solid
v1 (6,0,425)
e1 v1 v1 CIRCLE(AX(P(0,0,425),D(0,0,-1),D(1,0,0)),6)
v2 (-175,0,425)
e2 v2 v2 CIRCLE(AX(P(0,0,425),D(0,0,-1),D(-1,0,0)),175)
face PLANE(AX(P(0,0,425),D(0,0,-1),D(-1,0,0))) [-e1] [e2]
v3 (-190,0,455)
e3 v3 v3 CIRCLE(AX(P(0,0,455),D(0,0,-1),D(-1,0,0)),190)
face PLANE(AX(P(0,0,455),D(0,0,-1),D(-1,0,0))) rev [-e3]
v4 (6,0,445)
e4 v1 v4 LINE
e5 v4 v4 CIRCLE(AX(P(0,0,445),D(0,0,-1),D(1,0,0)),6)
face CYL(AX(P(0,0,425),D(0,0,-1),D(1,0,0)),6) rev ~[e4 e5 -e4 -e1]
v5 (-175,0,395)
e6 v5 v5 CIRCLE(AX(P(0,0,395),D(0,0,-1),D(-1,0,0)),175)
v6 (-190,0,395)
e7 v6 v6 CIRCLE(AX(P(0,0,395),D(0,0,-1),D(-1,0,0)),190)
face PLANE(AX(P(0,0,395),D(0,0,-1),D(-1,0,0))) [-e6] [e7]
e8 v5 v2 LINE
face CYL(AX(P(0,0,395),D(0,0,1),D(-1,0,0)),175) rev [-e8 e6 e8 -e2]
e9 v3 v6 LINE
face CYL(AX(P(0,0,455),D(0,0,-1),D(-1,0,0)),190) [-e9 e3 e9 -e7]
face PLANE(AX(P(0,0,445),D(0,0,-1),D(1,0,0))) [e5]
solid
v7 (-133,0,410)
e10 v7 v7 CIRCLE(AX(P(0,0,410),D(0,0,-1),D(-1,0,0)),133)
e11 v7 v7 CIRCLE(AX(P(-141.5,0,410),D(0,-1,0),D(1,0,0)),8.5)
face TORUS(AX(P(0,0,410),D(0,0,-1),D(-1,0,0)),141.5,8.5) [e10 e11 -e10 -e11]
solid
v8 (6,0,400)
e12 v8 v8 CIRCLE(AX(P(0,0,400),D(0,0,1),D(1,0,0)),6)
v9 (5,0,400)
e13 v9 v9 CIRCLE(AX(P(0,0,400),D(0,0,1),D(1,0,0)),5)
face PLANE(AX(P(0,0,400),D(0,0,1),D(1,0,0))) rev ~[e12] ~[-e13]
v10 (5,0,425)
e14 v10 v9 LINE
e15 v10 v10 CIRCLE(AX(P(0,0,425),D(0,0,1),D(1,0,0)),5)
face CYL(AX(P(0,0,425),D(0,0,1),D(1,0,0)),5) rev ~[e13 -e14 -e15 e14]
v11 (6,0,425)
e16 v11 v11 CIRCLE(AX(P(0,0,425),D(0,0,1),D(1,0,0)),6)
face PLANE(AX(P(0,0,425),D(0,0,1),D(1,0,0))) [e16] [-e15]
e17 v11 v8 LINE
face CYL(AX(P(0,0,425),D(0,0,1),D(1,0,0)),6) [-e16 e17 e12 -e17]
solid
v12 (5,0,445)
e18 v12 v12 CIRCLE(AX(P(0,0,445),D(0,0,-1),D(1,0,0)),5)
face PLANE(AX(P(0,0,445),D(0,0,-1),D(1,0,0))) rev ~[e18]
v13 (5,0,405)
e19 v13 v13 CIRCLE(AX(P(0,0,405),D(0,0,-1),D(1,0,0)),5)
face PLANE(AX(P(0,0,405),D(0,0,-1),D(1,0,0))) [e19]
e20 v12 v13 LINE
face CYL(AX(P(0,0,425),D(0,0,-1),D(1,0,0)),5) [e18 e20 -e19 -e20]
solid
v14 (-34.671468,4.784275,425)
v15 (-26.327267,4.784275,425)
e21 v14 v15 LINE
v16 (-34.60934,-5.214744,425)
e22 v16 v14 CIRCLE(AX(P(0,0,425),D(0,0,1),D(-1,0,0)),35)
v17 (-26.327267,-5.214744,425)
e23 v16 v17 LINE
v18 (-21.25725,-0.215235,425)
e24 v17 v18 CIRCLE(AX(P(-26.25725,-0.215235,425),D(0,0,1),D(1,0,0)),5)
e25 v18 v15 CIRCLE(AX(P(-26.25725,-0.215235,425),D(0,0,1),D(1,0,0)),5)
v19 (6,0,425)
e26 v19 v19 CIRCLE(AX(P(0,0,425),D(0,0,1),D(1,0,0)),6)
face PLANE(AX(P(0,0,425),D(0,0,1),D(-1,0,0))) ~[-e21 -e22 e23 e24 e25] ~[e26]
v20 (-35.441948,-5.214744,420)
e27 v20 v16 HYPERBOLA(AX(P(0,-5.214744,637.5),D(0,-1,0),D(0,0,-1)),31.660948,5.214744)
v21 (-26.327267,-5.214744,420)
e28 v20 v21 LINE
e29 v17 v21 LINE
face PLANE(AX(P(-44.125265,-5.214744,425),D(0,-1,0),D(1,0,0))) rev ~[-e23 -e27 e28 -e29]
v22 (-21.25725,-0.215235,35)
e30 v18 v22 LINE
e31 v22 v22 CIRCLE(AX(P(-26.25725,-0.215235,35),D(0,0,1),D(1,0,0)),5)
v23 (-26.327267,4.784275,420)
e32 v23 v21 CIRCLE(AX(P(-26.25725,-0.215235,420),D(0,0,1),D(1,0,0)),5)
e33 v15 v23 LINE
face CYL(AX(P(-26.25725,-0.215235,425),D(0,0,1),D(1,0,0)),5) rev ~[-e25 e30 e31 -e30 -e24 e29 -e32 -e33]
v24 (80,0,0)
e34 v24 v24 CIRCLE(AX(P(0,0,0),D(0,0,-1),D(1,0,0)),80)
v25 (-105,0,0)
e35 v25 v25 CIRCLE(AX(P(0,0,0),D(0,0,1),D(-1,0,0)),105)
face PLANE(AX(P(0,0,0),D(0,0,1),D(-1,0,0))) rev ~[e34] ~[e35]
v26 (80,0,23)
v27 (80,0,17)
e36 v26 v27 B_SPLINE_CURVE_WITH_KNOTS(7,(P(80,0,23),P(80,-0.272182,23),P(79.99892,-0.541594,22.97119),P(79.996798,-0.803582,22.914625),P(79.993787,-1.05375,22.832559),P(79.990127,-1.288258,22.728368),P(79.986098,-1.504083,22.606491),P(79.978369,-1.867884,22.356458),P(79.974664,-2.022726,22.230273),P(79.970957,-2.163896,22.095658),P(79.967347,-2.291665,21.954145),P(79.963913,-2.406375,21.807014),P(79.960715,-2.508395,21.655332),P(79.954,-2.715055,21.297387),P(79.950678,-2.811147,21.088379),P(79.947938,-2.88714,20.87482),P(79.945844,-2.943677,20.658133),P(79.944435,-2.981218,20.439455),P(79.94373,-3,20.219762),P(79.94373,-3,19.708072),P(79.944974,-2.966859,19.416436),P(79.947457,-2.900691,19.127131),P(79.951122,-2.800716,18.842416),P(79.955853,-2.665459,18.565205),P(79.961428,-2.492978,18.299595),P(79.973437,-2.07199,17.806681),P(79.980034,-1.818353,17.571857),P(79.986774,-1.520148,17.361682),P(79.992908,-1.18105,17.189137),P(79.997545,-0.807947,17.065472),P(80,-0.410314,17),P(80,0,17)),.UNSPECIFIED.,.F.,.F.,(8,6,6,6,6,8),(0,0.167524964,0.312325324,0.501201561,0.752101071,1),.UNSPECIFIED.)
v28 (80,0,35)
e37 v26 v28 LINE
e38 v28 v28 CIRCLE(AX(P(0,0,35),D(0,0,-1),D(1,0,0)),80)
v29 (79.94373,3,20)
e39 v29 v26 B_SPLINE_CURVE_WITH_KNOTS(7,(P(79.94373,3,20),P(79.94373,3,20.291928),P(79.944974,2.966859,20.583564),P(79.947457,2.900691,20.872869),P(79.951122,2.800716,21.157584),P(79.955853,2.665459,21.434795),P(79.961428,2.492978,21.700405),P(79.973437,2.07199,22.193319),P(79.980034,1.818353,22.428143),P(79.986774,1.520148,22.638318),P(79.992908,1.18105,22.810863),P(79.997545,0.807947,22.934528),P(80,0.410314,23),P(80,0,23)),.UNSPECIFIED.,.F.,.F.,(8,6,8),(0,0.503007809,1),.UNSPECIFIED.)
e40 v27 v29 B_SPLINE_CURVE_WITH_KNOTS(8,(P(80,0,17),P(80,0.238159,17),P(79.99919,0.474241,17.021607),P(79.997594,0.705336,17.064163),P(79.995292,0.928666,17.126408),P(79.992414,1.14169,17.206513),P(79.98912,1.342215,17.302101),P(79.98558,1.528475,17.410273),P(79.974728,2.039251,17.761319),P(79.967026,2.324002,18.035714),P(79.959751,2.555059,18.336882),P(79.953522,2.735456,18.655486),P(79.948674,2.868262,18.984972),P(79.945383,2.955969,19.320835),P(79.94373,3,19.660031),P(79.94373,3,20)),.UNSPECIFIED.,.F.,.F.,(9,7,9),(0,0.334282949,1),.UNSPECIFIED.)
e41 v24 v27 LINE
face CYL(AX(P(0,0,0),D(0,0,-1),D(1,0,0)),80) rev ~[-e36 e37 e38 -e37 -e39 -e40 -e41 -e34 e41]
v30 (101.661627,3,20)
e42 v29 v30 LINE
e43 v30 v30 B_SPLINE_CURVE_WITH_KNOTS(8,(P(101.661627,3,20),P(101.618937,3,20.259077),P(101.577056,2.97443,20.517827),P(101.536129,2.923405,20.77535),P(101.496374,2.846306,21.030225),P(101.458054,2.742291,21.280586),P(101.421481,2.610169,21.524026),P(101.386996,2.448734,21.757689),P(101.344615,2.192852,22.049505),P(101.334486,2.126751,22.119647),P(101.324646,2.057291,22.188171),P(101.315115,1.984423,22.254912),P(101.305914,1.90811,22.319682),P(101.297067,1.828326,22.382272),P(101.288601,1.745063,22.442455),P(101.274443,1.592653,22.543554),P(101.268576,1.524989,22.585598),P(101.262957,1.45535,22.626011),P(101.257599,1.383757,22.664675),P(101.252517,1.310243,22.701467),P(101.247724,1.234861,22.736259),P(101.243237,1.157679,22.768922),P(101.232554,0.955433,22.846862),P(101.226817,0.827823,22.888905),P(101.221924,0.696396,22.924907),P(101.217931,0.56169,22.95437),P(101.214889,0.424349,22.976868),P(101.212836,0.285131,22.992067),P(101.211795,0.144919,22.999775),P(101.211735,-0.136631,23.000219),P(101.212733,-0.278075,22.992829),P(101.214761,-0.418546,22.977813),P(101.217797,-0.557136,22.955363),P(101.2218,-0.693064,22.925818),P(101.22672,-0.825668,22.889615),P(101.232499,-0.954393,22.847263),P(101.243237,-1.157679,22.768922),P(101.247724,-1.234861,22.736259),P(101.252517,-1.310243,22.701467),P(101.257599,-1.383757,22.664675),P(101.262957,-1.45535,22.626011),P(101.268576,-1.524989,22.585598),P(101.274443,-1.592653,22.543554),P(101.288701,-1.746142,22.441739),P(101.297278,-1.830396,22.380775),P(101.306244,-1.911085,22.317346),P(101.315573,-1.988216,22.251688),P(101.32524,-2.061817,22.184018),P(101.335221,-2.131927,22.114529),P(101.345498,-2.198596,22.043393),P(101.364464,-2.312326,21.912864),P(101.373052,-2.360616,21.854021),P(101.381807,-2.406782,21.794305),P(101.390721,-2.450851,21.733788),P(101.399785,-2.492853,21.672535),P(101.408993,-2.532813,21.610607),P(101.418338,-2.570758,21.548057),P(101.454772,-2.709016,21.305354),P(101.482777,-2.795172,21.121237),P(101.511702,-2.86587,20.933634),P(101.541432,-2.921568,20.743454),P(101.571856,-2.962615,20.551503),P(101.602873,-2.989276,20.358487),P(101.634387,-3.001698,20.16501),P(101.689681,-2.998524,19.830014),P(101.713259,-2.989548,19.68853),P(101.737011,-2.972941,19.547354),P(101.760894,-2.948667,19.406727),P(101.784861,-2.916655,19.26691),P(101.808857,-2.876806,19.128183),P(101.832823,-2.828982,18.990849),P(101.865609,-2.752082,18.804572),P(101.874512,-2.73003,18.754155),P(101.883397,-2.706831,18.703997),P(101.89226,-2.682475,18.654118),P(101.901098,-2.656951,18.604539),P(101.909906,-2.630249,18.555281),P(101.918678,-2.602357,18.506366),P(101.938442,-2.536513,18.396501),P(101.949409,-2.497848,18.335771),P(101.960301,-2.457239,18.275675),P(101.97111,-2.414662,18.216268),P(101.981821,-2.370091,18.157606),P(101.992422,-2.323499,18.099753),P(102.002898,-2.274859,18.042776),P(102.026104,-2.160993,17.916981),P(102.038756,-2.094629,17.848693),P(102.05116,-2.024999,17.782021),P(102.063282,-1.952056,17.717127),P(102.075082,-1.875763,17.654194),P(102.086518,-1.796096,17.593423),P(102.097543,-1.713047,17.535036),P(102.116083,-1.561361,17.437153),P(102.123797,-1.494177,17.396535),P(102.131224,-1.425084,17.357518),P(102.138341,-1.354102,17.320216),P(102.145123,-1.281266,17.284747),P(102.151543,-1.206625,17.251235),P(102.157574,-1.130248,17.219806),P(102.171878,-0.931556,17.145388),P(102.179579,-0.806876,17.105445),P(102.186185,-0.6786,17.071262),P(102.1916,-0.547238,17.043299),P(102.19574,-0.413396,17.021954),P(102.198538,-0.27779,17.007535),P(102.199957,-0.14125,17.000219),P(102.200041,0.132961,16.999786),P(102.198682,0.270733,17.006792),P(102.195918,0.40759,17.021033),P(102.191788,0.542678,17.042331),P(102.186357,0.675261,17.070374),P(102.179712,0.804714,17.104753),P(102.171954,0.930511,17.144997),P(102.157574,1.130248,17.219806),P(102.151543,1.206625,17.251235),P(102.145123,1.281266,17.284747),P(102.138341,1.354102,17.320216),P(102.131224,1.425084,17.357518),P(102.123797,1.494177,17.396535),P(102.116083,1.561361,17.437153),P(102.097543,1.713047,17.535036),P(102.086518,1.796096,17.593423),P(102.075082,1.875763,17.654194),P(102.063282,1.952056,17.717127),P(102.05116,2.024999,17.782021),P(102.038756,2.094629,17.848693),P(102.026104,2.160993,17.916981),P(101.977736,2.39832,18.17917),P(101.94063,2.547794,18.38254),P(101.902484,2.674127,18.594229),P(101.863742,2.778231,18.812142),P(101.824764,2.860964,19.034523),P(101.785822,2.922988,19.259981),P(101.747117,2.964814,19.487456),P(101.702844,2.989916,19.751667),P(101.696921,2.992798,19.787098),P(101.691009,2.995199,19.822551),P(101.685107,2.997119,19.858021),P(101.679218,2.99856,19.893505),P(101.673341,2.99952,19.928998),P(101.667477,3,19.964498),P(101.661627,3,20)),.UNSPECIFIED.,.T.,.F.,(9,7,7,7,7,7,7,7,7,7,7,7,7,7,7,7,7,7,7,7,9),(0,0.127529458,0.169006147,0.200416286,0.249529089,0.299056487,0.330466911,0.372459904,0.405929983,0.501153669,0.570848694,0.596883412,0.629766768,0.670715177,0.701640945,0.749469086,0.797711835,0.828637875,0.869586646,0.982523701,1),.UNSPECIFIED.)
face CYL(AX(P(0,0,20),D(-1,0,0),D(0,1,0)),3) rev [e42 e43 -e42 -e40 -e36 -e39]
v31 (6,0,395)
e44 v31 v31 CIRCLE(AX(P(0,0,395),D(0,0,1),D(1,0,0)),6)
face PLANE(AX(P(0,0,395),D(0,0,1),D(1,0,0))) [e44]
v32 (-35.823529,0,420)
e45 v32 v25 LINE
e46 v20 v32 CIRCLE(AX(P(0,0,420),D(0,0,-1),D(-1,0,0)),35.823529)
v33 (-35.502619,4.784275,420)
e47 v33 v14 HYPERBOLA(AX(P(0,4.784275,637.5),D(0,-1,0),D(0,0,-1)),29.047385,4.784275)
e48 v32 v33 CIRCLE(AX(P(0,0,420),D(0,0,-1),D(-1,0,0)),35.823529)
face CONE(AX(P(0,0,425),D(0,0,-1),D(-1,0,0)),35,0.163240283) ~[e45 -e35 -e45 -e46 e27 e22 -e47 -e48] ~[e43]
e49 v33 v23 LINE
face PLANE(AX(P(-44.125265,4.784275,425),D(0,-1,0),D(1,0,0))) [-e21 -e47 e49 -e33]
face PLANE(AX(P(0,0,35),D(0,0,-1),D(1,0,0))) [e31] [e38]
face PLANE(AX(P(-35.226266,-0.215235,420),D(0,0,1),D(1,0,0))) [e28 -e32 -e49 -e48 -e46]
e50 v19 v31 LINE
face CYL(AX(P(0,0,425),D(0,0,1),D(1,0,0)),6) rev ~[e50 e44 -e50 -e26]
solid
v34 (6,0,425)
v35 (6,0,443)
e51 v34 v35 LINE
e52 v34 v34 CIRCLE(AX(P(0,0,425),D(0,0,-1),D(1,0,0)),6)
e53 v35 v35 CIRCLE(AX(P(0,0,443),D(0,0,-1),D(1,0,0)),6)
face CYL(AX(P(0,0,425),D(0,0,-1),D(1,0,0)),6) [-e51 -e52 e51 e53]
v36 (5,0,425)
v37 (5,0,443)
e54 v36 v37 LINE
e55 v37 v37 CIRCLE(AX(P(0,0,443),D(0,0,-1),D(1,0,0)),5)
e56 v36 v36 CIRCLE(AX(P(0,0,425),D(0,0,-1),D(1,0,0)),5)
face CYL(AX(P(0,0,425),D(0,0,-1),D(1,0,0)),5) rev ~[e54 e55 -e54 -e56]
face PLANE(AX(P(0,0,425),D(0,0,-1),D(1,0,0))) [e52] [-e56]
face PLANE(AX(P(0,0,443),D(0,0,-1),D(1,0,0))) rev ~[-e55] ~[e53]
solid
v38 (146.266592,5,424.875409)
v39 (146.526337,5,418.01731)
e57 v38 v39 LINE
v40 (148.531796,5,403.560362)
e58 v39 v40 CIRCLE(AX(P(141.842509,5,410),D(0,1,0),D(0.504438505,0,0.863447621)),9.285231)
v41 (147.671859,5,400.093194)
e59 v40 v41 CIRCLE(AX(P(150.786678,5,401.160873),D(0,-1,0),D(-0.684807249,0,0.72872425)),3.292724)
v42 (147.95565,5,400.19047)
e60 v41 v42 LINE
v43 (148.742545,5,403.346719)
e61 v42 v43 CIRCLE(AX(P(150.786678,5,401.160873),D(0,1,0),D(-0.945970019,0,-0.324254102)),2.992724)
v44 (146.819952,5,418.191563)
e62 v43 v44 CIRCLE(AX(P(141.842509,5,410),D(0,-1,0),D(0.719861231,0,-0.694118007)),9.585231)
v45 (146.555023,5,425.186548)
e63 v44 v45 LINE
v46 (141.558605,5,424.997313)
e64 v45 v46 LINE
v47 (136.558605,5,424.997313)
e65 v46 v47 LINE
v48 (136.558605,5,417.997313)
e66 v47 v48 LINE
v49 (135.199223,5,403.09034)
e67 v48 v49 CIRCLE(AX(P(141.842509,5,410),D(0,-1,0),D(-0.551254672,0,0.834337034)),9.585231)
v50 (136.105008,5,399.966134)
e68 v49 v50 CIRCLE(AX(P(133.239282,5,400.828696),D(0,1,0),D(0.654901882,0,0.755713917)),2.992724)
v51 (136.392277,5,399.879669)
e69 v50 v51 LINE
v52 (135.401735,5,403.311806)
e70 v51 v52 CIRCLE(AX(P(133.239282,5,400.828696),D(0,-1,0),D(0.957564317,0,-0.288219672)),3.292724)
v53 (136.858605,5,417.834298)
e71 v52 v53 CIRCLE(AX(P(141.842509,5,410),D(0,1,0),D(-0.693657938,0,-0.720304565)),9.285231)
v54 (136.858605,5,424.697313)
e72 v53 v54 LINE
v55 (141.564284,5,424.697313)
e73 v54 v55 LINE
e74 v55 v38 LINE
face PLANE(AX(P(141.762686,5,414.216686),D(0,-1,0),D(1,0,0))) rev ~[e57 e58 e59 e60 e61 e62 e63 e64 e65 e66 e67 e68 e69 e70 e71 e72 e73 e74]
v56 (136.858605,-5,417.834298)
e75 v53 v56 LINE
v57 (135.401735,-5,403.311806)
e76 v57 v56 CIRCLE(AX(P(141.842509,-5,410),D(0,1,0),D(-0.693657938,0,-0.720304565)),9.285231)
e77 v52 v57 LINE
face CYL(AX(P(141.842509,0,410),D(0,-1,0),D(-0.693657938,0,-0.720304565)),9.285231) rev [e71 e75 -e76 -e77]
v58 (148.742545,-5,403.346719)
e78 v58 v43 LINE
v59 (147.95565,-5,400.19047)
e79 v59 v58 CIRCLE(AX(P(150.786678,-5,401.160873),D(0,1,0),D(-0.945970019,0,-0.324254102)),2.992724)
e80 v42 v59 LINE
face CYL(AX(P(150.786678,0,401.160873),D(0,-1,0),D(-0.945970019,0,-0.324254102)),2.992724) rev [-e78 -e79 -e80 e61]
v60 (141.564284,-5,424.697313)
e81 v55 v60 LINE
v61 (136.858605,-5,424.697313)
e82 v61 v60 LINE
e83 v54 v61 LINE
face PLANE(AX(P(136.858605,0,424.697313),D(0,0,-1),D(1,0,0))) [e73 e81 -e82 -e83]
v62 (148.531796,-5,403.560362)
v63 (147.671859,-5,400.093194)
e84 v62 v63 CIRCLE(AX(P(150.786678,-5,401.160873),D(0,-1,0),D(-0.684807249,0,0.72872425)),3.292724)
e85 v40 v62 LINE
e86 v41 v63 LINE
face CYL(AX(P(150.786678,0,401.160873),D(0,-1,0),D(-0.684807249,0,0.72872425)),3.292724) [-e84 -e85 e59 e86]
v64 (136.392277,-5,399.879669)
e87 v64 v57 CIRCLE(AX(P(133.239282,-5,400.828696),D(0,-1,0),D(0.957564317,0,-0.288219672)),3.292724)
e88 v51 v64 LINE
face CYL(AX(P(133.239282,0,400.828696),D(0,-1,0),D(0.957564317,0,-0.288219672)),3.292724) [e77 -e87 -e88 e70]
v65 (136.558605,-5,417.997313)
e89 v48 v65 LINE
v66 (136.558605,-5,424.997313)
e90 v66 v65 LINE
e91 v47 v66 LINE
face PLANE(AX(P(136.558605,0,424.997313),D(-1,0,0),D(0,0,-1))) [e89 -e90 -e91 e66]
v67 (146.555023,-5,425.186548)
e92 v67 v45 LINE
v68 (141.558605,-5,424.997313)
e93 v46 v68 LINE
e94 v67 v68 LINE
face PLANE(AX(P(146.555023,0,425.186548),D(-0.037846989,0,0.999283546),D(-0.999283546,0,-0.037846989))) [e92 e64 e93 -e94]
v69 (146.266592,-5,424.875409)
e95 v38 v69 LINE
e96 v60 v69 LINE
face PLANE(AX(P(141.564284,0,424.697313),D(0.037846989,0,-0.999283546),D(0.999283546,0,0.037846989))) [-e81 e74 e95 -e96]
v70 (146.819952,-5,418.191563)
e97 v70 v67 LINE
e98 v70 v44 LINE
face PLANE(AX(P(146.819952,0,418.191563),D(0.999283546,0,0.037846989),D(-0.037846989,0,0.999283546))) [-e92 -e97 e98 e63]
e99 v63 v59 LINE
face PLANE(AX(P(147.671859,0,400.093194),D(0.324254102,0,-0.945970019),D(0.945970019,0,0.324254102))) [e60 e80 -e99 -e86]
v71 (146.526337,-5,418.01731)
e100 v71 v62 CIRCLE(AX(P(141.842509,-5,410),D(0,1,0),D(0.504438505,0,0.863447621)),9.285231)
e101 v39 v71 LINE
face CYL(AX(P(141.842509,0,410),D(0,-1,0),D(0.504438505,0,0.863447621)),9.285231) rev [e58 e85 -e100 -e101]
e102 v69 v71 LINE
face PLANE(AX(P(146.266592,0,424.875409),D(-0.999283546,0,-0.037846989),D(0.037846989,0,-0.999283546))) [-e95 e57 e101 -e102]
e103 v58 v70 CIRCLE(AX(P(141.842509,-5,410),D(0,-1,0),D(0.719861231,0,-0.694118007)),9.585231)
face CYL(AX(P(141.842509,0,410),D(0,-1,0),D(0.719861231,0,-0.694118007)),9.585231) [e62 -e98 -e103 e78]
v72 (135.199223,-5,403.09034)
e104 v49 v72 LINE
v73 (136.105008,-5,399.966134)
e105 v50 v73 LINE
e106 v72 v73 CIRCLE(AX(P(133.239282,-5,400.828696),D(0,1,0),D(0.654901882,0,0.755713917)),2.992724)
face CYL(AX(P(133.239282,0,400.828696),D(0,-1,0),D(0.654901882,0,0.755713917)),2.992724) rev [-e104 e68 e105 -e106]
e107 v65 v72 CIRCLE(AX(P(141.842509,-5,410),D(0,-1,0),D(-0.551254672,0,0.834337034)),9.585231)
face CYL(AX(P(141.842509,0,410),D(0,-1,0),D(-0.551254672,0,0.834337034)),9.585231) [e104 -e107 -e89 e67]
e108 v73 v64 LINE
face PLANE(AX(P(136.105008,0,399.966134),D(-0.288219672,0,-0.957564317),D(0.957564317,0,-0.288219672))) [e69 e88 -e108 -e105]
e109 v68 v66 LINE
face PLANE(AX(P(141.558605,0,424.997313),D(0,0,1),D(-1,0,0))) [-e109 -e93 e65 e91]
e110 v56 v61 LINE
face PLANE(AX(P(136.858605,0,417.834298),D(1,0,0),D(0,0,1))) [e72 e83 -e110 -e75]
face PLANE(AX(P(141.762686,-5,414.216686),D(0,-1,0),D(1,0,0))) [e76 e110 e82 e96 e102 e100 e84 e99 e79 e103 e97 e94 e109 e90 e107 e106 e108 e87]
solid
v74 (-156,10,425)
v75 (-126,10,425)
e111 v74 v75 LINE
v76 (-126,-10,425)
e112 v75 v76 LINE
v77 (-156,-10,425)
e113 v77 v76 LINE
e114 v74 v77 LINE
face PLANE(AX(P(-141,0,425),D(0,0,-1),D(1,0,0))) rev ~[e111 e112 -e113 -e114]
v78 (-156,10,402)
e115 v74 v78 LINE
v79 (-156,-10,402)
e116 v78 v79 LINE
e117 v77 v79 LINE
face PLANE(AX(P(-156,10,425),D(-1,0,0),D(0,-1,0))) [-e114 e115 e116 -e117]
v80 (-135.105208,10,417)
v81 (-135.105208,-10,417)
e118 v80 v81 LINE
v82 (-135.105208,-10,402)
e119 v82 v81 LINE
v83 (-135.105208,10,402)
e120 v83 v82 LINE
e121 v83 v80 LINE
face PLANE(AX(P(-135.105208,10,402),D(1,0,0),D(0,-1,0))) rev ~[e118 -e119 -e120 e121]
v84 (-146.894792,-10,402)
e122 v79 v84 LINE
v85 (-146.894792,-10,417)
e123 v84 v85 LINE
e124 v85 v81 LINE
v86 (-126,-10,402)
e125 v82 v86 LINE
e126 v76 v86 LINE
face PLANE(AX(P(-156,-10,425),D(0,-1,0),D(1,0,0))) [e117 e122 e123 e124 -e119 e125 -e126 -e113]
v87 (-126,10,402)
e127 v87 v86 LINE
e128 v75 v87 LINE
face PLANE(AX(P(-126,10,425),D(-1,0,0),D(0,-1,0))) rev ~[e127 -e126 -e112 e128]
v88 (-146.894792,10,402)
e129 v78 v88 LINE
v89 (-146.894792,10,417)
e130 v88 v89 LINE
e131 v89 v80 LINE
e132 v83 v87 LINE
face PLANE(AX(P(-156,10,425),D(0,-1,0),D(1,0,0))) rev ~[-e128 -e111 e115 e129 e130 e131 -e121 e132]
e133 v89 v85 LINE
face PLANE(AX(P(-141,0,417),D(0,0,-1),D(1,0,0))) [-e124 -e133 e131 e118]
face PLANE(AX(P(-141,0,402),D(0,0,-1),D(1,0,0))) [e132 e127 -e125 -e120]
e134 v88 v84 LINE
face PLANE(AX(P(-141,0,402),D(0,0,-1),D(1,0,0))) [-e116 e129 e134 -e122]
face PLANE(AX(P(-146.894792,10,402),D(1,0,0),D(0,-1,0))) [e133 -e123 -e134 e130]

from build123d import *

# Parameters (mm, degrees)
F2_R           = 8.5
F6_R           = 6
F7_DEPTH       = 475
F8_R           = 67.5
F8_R_2         = 6
F9_DEPTH       = 30
F10_W          = 1
F10_H          = 25
F12_W          = 1
F12_H          = 25
F14_W          = 1
F14_H          = 50
F16_W          = 30
F16_H          = 4
F20_W          = 248.7395628745
F20_H          = 150
F21_DEPTH      = 180.001
F21_DEPTH_BACK = 180.001
F26_R          = 6
F27_DEPTH      = 30
F28_R          = 5
F29_DEPTH      = 425.001
F30_W          = 17.797998304
F30_H          = 9.9990194846
F31_DEPTH      = 5
F32_W          = 30
F32_H          = 20
F33_DEPTH      = 23
F34_W          = 11.7895848751
F34_H          = 20
F35_DEPTH      = 15
F37_DEPTH      = 5
F37_DEPTH_BACK = 5
F38_R          = 6
F38_R_2        = 5
F39_DEPTH      = 25
F40_R          = 80
F41_DEPTH      = 35
F43_R          = 3
F44_DEPTH      = 190.001
F45_R          = 6
F46_DEPTH      = 20
F47_R          = 6
F47_R_2        = 5
F48_DEPTH      = 18
F49_R          = 5
F50_DEPTH      = 20
F50_DEPTH_BACK = 20


with BuildPart() as f1:
    # F0 (on Front) → F1 (revolve)
    with BuildSketch(Plane.XZ):
        Polygon((-80, 0), (0, 0), (0, 450), (-20, 450), align=None)
    revolve(axis=Axis((0, 0, 225), (0, 0, -1)))


with BuildPart() as f3:
    # F2 (on Front) → F3 (revolve)
    with BuildSketch(Plane.XZ):
        with Locations((-141.5, 410)):
            Circle(F2_R)
    revolve(axis=Axis((0, 0, 205), (0, 0, -1)))


with BuildPart() as f5:
    # F4 (on Front) → F5 (revolve)
    with BuildSketch(Plane.XZ):
        Polygon((-180, 500), (-180, 450), (-165, 450), (-165, 475), (-20, 475), (-20, 450), (0, 450), (0, 475), (0, 500), align=None)
    revolve(axis=Axis((0, 0, 487.5), (0, 0, 1)))


with BuildPart() as f7_tool:
    # F6 (on face) → F7 (new body, through all)
    with BuildSketch(Plane(origin=(0, 0, 0), x_dir=(1, 0, 0), z_dir=(0, 0, -1))):
        Circle(F6_R)
    extrude(amount=-F7_DEPTH)


with BuildPart() as f1_1:
    add(f1.part)

    # F7: cut by f7_tool
    add(f7_tool.part, mode=Mode.SUBTRACT)

    # F8 (on face) → F9 (cut)
    with BuildSketch(Plane(origin=(0, 0, 0), x_dir=(1, 0, 0), z_dir=(0, 0, -1))):
        Circle(F8_R)
        Circle(F8_R_2, mode=Mode.SUBTRACT)
    extrude(amount=-F9_DEPTH, mode=Mode.SUBTRACT)

    # F16 (on Front) → F17 (revolve, cut)
    with BuildSketch(Plane.XZ):
        with Locations((-15, 418.7703390121)):
            Rectangle(F16_W, F16_H)
    revolve(axis=Axis((-15, 0, 416.7703390121), (-1, 0, 0)), mode=Mode.SUBTRACT)


with BuildPart() as f5_1:
    add(f5.part)

    # F7: cut by f7_tool
    add(f7_tool.part, mode=Mode.SUBTRACT)


with BuildPart() as f11:
    # F10 (on Front) → F11 (revolve)
    with BuildSketch(Plane.XZ):
        with Locations((-5.3890798015, 462.6714408398)):
            Rectangle(F10_W, F10_H)
    revolve(axis=Axis((0.1109201985, 0, 462.6714408398), (0, 0, -1)))


with BuildPart() as f13:
    # F12 (on Front) → F13 (revolve)
    with BuildSketch(Plane.XZ):
        with Locations((-5.5, 437.4423503876)):
            Rectangle(F12_W, F12_H)
    revolve(axis=Axis((0, 0, 437.4423503876), (0, 0, -1)))


with BuildPart() as f15:
    # F14 (on Front) → F15 (revolve)
    with BuildSketch(Plane.XZ):
        with Locations((-4.5, 449.8964532635)):
            Rectangle(F14_W, F14_H)
    revolve(axis=Axis((0, 0, 449.8964532635), (0, 0, 1)))


with BuildPart() as f19:
    # F18 (on Front) → F19 (revolve)
    with BuildSketch(Plane.XZ):
        Polygon((-102.8210520744, 0), (-47.8210520744, 0), (-47.8210520744, 450.0480890274), (-102.8210520744, 450), align=None)
    revolve(axis=Axis((-47.8210520744, 0, 225.0240445137), (0, 0, 1)))


with BuildPart() as f21_tool:
    # F20 (on Front) → F21 (new body, two sides)
    with BuildSketch(Plane.XZ) as f21_sk:
        with Locations((-50.1048900458, 75)):
            Rectangle(F20_W, F20_H)
    extrude(amount=-F21_DEPTH)
    extrude(f21_sk.sketch, amount=F21_DEPTH_BACK)


with BuildPart() as f1_2:
    add(f1_1.part)

    # F21: cut by f21_tool
    add(f21_tool.part, mode=Mode.SUBTRACT)


with BuildPart() as f19_1:
    add(f19.part)

    # F21: cut by f21_tool
    add(f21_tool.part, mode=Mode.SUBTRACT)


with BuildPart() as f23:
    # F22 (on Front) → F23 (revolve)
    with BuildSketch(Plane.XZ):
        Polygon((-105, 0), (0, 0), (0, 425), (-35, 425), align=None)
    revolve(axis=Axis((0, 0, 212.5), (0, 0, 1)))


with BuildPart() as f25:
    # F24 (on Front) → F25 (revolve)
    with BuildSketch(Plane.XZ):
        Polygon((-175, 425), (0, 425), (0, 455), (-190, 455), (-190, 395), (-175, 395), align=None)
    revolve(axis=Axis((0, 0, 440), (0, 0, -1)))

    # F45 (on face) → F46 (cut)
    with BuildSketch(Plane(origin=(0, 0, 425), x_dir=(1, 0, 0), z_dir=(0, 0, -1))):
        Circle(F45_R)
    extrude(amount=-F46_DEPTH, mode=Mode.SUBTRACT)


with BuildPart() as f27_tool:
    # F26 (on face) → F27 (new body)
    with BuildSketch(Plane.XY.offset(425)):
        Circle(F26_R)
    extrude(amount=-F27_DEPTH)


with BuildPart() as f13_1:
    add(f13.part)

    # F27: cut by f27_tool
    add(f27_tool.part, mode=Mode.SUBTRACT)


with BuildPart() as f15_1:
    add(f15.part)

    # F27: cut by f27_tool
    add(f27_tool.part, mode=Mode.SUBTRACT)


with BuildPart() as f19_2:
    add(f19_1.part)

    # F27: cut by f27_tool
    add(f27_tool.part, mode=Mode.SUBTRACT)


with BuildPart() as f23_1:
    add(f23.part)

    # F27: cut by f27_tool
    add(f27_tool.part, mode=Mode.SUBTRACT)


with BuildPart() as f29_tool:
    # F28 (on face) → F29 (new body, through all)
    with BuildSketch(Plane.XY.offset(425)):
        with Locations((-26.257250458, -0.2152346278)):
            Circle(F28_R)
    extrude(amount=-F29_DEPTH)


with BuildPart() as f1_3:
    add(f1_2.part)

    # F29: cut by f29_tool
    add(f29_tool.part, mode=Mode.SUBTRACT)


with BuildPart() as f19_3:
    add(f19_2.part)

    # F29: cut by f29_tool
    add(f29_tool.part, mode=Mode.SUBTRACT)


with BuildPart() as f23_2:
    add(f23_1.part)

    # F29: cut by f29_tool
    add(f29_tool.part, mode=Mode.SUBTRACT)


with BuildPart() as f31_tool:
    # F30 (on face) → F31 (new body)
    with BuildSketch(Plane.XY.offset(425)):
        with Locations((-35.2262662969, -0.2152346278)):
            Rectangle(F30_W, F30_H)
    extrude(amount=-F31_DEPTH)


with BuildPart() as f19_4:
    add(f19_3.part)

    # F31: cut by f31_tool
    add(f31_tool.part, mode=Mode.SUBTRACT)


with BuildPart() as f23_3:
    add(f23_2.part)

    # F31: cut by f31_tool
    add(f31_tool.part, mode=Mode.SUBTRACT)


with BuildPart() as f33:
    # F32 (on face) → F33 (new body)
    with BuildSketch(Plane(origin=(0, 0, 425), x_dir=(1, 0, 0), z_dir=(0, 0, -1))):
        with Locations((-141, 0)):
            Rectangle(F32_W, F32_H)
    extrude(amount=F33_DEPTH)

    # F34 (on face) → F35 (cut)
    with BuildSketch(Plane(origin=(0, 0, 402), x_dir=(1, 0, 0), z_dir=(0, 0, -1))):
        with Locations((-141, 0)):
            Rectangle(F34_W, F34_H)
    extrude(amount=-F35_DEPTH, mode=Mode.SUBTRACT)


with BuildPart() as f37:
    # F36 (on Front) → F37 (new body, two sides)
    with BuildSketch(Plane.XZ) as f37_sk:
        with BuildLine():
            Line((146.5550230936, 425.1865480025), (141.5586053633, 424.9973130571))
            Line((141.5586053633, 424.9973130571), (136.5586053633, 424.9973130571))
            Line((136.5586053633, 424.9973130571), (136.5586053633, 417.9973130571))
            ThreePointArc((136.5586053633, 417.9973130571), (132.2968854263, 410.8704754204), (135.199222799, 403.0903398627))
            ThreePointArc((135.199222799, 403.0903398627), (136.1136393161, 401.6620444599), (136.1050080243, 399.9661344313))
            Line((136.1050080243, 399.9661344313), (136.3922773193, 399.8796685296))
            ThreePointArc((136.3922773193, 399.8796685296), (136.4028856807, 401.7417381977), (135.4017345745, 403.3118058551))
            ThreePointArc((135.4017345745, 403.3118058551), (132.6036502112, 410.9268259991), (136.8586053633, 417.8342976458))
            Line((136.8586053633, 417.8342976458), (136.8586053633, 424.6973130571))
            Line((136.8586053633, 424.6973130571), (141.5642844461, 424.6973130571))
            Line((141.5642844461, 424.6973130571), (146.2665921265, 424.875408842))
            Line((146.2665921265, 424.875408842), (146.5263365959, 418.0173104652))
            ThreePointArc((146.5263365959, 418.0173104652), (151.0396702727, 411.275824945), (148.5317961924, 403.5603615439))
            ThreePointArc((148.5317961924, 403.5603615439), (147.5907846983, 401.9535282127), (147.6718591897, 400.0931941263))
            Line((147.6718591897, 400.0931941263), (147.9556501955, 400.190470357))
            ThreePointArc((147.9556501955, 400.190470357), (147.8828399992, 401.8848386757), (148.7425446984, 403.3467186826))
            ThreePointArc((148.7425446984, 403.3467186826), (151.3483479745, 411.2311248624), (146.8199520172, 418.1915631801))
            Line((146.8199520172, 418.1915631801), (146.5550230936, 425.1865480025))
        make_face()
    extrude(amount=F37_DEPTH)
    extrude(f37_sk.sketch, amount=-F37_DEPTH_BACK)


with BuildPart() as f39:
    # F38 (on face) → F39 (new body)
    with BuildSketch(Plane.XY.offset(425)):
        Circle(F38_R)
        Circle(F38_R_2, mode=Mode.SUBTRACT)
    extrude(amount=-F39_DEPTH)


with BuildPart() as f41_tool:
    # F40 (on face) → F41 (new body)
    with BuildSketch(Plane(origin=(0, 0, 0), x_dir=(1, 0, 0), z_dir=(0, 0, -1))):
        Circle(F40_R)
    extrude(amount=-F41_DEPTH)


with BuildPart() as f1_4:
    add(f1_3.part)

    # F41: cut by f41_tool
    add(f41_tool.part, mode=Mode.SUBTRACT)


with BuildPart() as f23_4:
    add(f23_3.part)

    # F41: cut by f41_tool
    add(f41_tool.part, mode=Mode.SUBTRACT)

    # F43 (on Right) → F44 (cut, through all)
    with BuildSketch(Plane.YZ):
        with Locations((0, 20)):
            Circle(F43_R)
    extrude(amount=F44_DEPTH, mode=Mode.SUBTRACT)


with BuildPart() as f48:
    # F47 (on face) → F48 (new body)
    with BuildSketch(Plane(origin=(0, 0, 425), x_dir=(1, 0, 0), z_dir=(0, 0, -1))):
        Circle(F47_R)
        Circle(F47_R_2, mode=Mode.SUBTRACT)
    extrude(amount=-F48_DEPTH)


with BuildPart() as f50:
    # F49 (on face) → F50 (new body, two sides)
    with BuildSketch(Plane(origin=(0, 0, 425), x_dir=(1, 0, 0), z_dir=(0, 0, -1))) as f50_sk:
        Circle(F49_R)
    extrude(amount=F50_DEPTH)
    extrude(f50_sk.sketch, amount=-F50_DEPTH_BACK)


solid = Compound([f3.part, f25.part, f33.part, f37.part, f39.part, f23_4.part, f48.part, f50.part])
